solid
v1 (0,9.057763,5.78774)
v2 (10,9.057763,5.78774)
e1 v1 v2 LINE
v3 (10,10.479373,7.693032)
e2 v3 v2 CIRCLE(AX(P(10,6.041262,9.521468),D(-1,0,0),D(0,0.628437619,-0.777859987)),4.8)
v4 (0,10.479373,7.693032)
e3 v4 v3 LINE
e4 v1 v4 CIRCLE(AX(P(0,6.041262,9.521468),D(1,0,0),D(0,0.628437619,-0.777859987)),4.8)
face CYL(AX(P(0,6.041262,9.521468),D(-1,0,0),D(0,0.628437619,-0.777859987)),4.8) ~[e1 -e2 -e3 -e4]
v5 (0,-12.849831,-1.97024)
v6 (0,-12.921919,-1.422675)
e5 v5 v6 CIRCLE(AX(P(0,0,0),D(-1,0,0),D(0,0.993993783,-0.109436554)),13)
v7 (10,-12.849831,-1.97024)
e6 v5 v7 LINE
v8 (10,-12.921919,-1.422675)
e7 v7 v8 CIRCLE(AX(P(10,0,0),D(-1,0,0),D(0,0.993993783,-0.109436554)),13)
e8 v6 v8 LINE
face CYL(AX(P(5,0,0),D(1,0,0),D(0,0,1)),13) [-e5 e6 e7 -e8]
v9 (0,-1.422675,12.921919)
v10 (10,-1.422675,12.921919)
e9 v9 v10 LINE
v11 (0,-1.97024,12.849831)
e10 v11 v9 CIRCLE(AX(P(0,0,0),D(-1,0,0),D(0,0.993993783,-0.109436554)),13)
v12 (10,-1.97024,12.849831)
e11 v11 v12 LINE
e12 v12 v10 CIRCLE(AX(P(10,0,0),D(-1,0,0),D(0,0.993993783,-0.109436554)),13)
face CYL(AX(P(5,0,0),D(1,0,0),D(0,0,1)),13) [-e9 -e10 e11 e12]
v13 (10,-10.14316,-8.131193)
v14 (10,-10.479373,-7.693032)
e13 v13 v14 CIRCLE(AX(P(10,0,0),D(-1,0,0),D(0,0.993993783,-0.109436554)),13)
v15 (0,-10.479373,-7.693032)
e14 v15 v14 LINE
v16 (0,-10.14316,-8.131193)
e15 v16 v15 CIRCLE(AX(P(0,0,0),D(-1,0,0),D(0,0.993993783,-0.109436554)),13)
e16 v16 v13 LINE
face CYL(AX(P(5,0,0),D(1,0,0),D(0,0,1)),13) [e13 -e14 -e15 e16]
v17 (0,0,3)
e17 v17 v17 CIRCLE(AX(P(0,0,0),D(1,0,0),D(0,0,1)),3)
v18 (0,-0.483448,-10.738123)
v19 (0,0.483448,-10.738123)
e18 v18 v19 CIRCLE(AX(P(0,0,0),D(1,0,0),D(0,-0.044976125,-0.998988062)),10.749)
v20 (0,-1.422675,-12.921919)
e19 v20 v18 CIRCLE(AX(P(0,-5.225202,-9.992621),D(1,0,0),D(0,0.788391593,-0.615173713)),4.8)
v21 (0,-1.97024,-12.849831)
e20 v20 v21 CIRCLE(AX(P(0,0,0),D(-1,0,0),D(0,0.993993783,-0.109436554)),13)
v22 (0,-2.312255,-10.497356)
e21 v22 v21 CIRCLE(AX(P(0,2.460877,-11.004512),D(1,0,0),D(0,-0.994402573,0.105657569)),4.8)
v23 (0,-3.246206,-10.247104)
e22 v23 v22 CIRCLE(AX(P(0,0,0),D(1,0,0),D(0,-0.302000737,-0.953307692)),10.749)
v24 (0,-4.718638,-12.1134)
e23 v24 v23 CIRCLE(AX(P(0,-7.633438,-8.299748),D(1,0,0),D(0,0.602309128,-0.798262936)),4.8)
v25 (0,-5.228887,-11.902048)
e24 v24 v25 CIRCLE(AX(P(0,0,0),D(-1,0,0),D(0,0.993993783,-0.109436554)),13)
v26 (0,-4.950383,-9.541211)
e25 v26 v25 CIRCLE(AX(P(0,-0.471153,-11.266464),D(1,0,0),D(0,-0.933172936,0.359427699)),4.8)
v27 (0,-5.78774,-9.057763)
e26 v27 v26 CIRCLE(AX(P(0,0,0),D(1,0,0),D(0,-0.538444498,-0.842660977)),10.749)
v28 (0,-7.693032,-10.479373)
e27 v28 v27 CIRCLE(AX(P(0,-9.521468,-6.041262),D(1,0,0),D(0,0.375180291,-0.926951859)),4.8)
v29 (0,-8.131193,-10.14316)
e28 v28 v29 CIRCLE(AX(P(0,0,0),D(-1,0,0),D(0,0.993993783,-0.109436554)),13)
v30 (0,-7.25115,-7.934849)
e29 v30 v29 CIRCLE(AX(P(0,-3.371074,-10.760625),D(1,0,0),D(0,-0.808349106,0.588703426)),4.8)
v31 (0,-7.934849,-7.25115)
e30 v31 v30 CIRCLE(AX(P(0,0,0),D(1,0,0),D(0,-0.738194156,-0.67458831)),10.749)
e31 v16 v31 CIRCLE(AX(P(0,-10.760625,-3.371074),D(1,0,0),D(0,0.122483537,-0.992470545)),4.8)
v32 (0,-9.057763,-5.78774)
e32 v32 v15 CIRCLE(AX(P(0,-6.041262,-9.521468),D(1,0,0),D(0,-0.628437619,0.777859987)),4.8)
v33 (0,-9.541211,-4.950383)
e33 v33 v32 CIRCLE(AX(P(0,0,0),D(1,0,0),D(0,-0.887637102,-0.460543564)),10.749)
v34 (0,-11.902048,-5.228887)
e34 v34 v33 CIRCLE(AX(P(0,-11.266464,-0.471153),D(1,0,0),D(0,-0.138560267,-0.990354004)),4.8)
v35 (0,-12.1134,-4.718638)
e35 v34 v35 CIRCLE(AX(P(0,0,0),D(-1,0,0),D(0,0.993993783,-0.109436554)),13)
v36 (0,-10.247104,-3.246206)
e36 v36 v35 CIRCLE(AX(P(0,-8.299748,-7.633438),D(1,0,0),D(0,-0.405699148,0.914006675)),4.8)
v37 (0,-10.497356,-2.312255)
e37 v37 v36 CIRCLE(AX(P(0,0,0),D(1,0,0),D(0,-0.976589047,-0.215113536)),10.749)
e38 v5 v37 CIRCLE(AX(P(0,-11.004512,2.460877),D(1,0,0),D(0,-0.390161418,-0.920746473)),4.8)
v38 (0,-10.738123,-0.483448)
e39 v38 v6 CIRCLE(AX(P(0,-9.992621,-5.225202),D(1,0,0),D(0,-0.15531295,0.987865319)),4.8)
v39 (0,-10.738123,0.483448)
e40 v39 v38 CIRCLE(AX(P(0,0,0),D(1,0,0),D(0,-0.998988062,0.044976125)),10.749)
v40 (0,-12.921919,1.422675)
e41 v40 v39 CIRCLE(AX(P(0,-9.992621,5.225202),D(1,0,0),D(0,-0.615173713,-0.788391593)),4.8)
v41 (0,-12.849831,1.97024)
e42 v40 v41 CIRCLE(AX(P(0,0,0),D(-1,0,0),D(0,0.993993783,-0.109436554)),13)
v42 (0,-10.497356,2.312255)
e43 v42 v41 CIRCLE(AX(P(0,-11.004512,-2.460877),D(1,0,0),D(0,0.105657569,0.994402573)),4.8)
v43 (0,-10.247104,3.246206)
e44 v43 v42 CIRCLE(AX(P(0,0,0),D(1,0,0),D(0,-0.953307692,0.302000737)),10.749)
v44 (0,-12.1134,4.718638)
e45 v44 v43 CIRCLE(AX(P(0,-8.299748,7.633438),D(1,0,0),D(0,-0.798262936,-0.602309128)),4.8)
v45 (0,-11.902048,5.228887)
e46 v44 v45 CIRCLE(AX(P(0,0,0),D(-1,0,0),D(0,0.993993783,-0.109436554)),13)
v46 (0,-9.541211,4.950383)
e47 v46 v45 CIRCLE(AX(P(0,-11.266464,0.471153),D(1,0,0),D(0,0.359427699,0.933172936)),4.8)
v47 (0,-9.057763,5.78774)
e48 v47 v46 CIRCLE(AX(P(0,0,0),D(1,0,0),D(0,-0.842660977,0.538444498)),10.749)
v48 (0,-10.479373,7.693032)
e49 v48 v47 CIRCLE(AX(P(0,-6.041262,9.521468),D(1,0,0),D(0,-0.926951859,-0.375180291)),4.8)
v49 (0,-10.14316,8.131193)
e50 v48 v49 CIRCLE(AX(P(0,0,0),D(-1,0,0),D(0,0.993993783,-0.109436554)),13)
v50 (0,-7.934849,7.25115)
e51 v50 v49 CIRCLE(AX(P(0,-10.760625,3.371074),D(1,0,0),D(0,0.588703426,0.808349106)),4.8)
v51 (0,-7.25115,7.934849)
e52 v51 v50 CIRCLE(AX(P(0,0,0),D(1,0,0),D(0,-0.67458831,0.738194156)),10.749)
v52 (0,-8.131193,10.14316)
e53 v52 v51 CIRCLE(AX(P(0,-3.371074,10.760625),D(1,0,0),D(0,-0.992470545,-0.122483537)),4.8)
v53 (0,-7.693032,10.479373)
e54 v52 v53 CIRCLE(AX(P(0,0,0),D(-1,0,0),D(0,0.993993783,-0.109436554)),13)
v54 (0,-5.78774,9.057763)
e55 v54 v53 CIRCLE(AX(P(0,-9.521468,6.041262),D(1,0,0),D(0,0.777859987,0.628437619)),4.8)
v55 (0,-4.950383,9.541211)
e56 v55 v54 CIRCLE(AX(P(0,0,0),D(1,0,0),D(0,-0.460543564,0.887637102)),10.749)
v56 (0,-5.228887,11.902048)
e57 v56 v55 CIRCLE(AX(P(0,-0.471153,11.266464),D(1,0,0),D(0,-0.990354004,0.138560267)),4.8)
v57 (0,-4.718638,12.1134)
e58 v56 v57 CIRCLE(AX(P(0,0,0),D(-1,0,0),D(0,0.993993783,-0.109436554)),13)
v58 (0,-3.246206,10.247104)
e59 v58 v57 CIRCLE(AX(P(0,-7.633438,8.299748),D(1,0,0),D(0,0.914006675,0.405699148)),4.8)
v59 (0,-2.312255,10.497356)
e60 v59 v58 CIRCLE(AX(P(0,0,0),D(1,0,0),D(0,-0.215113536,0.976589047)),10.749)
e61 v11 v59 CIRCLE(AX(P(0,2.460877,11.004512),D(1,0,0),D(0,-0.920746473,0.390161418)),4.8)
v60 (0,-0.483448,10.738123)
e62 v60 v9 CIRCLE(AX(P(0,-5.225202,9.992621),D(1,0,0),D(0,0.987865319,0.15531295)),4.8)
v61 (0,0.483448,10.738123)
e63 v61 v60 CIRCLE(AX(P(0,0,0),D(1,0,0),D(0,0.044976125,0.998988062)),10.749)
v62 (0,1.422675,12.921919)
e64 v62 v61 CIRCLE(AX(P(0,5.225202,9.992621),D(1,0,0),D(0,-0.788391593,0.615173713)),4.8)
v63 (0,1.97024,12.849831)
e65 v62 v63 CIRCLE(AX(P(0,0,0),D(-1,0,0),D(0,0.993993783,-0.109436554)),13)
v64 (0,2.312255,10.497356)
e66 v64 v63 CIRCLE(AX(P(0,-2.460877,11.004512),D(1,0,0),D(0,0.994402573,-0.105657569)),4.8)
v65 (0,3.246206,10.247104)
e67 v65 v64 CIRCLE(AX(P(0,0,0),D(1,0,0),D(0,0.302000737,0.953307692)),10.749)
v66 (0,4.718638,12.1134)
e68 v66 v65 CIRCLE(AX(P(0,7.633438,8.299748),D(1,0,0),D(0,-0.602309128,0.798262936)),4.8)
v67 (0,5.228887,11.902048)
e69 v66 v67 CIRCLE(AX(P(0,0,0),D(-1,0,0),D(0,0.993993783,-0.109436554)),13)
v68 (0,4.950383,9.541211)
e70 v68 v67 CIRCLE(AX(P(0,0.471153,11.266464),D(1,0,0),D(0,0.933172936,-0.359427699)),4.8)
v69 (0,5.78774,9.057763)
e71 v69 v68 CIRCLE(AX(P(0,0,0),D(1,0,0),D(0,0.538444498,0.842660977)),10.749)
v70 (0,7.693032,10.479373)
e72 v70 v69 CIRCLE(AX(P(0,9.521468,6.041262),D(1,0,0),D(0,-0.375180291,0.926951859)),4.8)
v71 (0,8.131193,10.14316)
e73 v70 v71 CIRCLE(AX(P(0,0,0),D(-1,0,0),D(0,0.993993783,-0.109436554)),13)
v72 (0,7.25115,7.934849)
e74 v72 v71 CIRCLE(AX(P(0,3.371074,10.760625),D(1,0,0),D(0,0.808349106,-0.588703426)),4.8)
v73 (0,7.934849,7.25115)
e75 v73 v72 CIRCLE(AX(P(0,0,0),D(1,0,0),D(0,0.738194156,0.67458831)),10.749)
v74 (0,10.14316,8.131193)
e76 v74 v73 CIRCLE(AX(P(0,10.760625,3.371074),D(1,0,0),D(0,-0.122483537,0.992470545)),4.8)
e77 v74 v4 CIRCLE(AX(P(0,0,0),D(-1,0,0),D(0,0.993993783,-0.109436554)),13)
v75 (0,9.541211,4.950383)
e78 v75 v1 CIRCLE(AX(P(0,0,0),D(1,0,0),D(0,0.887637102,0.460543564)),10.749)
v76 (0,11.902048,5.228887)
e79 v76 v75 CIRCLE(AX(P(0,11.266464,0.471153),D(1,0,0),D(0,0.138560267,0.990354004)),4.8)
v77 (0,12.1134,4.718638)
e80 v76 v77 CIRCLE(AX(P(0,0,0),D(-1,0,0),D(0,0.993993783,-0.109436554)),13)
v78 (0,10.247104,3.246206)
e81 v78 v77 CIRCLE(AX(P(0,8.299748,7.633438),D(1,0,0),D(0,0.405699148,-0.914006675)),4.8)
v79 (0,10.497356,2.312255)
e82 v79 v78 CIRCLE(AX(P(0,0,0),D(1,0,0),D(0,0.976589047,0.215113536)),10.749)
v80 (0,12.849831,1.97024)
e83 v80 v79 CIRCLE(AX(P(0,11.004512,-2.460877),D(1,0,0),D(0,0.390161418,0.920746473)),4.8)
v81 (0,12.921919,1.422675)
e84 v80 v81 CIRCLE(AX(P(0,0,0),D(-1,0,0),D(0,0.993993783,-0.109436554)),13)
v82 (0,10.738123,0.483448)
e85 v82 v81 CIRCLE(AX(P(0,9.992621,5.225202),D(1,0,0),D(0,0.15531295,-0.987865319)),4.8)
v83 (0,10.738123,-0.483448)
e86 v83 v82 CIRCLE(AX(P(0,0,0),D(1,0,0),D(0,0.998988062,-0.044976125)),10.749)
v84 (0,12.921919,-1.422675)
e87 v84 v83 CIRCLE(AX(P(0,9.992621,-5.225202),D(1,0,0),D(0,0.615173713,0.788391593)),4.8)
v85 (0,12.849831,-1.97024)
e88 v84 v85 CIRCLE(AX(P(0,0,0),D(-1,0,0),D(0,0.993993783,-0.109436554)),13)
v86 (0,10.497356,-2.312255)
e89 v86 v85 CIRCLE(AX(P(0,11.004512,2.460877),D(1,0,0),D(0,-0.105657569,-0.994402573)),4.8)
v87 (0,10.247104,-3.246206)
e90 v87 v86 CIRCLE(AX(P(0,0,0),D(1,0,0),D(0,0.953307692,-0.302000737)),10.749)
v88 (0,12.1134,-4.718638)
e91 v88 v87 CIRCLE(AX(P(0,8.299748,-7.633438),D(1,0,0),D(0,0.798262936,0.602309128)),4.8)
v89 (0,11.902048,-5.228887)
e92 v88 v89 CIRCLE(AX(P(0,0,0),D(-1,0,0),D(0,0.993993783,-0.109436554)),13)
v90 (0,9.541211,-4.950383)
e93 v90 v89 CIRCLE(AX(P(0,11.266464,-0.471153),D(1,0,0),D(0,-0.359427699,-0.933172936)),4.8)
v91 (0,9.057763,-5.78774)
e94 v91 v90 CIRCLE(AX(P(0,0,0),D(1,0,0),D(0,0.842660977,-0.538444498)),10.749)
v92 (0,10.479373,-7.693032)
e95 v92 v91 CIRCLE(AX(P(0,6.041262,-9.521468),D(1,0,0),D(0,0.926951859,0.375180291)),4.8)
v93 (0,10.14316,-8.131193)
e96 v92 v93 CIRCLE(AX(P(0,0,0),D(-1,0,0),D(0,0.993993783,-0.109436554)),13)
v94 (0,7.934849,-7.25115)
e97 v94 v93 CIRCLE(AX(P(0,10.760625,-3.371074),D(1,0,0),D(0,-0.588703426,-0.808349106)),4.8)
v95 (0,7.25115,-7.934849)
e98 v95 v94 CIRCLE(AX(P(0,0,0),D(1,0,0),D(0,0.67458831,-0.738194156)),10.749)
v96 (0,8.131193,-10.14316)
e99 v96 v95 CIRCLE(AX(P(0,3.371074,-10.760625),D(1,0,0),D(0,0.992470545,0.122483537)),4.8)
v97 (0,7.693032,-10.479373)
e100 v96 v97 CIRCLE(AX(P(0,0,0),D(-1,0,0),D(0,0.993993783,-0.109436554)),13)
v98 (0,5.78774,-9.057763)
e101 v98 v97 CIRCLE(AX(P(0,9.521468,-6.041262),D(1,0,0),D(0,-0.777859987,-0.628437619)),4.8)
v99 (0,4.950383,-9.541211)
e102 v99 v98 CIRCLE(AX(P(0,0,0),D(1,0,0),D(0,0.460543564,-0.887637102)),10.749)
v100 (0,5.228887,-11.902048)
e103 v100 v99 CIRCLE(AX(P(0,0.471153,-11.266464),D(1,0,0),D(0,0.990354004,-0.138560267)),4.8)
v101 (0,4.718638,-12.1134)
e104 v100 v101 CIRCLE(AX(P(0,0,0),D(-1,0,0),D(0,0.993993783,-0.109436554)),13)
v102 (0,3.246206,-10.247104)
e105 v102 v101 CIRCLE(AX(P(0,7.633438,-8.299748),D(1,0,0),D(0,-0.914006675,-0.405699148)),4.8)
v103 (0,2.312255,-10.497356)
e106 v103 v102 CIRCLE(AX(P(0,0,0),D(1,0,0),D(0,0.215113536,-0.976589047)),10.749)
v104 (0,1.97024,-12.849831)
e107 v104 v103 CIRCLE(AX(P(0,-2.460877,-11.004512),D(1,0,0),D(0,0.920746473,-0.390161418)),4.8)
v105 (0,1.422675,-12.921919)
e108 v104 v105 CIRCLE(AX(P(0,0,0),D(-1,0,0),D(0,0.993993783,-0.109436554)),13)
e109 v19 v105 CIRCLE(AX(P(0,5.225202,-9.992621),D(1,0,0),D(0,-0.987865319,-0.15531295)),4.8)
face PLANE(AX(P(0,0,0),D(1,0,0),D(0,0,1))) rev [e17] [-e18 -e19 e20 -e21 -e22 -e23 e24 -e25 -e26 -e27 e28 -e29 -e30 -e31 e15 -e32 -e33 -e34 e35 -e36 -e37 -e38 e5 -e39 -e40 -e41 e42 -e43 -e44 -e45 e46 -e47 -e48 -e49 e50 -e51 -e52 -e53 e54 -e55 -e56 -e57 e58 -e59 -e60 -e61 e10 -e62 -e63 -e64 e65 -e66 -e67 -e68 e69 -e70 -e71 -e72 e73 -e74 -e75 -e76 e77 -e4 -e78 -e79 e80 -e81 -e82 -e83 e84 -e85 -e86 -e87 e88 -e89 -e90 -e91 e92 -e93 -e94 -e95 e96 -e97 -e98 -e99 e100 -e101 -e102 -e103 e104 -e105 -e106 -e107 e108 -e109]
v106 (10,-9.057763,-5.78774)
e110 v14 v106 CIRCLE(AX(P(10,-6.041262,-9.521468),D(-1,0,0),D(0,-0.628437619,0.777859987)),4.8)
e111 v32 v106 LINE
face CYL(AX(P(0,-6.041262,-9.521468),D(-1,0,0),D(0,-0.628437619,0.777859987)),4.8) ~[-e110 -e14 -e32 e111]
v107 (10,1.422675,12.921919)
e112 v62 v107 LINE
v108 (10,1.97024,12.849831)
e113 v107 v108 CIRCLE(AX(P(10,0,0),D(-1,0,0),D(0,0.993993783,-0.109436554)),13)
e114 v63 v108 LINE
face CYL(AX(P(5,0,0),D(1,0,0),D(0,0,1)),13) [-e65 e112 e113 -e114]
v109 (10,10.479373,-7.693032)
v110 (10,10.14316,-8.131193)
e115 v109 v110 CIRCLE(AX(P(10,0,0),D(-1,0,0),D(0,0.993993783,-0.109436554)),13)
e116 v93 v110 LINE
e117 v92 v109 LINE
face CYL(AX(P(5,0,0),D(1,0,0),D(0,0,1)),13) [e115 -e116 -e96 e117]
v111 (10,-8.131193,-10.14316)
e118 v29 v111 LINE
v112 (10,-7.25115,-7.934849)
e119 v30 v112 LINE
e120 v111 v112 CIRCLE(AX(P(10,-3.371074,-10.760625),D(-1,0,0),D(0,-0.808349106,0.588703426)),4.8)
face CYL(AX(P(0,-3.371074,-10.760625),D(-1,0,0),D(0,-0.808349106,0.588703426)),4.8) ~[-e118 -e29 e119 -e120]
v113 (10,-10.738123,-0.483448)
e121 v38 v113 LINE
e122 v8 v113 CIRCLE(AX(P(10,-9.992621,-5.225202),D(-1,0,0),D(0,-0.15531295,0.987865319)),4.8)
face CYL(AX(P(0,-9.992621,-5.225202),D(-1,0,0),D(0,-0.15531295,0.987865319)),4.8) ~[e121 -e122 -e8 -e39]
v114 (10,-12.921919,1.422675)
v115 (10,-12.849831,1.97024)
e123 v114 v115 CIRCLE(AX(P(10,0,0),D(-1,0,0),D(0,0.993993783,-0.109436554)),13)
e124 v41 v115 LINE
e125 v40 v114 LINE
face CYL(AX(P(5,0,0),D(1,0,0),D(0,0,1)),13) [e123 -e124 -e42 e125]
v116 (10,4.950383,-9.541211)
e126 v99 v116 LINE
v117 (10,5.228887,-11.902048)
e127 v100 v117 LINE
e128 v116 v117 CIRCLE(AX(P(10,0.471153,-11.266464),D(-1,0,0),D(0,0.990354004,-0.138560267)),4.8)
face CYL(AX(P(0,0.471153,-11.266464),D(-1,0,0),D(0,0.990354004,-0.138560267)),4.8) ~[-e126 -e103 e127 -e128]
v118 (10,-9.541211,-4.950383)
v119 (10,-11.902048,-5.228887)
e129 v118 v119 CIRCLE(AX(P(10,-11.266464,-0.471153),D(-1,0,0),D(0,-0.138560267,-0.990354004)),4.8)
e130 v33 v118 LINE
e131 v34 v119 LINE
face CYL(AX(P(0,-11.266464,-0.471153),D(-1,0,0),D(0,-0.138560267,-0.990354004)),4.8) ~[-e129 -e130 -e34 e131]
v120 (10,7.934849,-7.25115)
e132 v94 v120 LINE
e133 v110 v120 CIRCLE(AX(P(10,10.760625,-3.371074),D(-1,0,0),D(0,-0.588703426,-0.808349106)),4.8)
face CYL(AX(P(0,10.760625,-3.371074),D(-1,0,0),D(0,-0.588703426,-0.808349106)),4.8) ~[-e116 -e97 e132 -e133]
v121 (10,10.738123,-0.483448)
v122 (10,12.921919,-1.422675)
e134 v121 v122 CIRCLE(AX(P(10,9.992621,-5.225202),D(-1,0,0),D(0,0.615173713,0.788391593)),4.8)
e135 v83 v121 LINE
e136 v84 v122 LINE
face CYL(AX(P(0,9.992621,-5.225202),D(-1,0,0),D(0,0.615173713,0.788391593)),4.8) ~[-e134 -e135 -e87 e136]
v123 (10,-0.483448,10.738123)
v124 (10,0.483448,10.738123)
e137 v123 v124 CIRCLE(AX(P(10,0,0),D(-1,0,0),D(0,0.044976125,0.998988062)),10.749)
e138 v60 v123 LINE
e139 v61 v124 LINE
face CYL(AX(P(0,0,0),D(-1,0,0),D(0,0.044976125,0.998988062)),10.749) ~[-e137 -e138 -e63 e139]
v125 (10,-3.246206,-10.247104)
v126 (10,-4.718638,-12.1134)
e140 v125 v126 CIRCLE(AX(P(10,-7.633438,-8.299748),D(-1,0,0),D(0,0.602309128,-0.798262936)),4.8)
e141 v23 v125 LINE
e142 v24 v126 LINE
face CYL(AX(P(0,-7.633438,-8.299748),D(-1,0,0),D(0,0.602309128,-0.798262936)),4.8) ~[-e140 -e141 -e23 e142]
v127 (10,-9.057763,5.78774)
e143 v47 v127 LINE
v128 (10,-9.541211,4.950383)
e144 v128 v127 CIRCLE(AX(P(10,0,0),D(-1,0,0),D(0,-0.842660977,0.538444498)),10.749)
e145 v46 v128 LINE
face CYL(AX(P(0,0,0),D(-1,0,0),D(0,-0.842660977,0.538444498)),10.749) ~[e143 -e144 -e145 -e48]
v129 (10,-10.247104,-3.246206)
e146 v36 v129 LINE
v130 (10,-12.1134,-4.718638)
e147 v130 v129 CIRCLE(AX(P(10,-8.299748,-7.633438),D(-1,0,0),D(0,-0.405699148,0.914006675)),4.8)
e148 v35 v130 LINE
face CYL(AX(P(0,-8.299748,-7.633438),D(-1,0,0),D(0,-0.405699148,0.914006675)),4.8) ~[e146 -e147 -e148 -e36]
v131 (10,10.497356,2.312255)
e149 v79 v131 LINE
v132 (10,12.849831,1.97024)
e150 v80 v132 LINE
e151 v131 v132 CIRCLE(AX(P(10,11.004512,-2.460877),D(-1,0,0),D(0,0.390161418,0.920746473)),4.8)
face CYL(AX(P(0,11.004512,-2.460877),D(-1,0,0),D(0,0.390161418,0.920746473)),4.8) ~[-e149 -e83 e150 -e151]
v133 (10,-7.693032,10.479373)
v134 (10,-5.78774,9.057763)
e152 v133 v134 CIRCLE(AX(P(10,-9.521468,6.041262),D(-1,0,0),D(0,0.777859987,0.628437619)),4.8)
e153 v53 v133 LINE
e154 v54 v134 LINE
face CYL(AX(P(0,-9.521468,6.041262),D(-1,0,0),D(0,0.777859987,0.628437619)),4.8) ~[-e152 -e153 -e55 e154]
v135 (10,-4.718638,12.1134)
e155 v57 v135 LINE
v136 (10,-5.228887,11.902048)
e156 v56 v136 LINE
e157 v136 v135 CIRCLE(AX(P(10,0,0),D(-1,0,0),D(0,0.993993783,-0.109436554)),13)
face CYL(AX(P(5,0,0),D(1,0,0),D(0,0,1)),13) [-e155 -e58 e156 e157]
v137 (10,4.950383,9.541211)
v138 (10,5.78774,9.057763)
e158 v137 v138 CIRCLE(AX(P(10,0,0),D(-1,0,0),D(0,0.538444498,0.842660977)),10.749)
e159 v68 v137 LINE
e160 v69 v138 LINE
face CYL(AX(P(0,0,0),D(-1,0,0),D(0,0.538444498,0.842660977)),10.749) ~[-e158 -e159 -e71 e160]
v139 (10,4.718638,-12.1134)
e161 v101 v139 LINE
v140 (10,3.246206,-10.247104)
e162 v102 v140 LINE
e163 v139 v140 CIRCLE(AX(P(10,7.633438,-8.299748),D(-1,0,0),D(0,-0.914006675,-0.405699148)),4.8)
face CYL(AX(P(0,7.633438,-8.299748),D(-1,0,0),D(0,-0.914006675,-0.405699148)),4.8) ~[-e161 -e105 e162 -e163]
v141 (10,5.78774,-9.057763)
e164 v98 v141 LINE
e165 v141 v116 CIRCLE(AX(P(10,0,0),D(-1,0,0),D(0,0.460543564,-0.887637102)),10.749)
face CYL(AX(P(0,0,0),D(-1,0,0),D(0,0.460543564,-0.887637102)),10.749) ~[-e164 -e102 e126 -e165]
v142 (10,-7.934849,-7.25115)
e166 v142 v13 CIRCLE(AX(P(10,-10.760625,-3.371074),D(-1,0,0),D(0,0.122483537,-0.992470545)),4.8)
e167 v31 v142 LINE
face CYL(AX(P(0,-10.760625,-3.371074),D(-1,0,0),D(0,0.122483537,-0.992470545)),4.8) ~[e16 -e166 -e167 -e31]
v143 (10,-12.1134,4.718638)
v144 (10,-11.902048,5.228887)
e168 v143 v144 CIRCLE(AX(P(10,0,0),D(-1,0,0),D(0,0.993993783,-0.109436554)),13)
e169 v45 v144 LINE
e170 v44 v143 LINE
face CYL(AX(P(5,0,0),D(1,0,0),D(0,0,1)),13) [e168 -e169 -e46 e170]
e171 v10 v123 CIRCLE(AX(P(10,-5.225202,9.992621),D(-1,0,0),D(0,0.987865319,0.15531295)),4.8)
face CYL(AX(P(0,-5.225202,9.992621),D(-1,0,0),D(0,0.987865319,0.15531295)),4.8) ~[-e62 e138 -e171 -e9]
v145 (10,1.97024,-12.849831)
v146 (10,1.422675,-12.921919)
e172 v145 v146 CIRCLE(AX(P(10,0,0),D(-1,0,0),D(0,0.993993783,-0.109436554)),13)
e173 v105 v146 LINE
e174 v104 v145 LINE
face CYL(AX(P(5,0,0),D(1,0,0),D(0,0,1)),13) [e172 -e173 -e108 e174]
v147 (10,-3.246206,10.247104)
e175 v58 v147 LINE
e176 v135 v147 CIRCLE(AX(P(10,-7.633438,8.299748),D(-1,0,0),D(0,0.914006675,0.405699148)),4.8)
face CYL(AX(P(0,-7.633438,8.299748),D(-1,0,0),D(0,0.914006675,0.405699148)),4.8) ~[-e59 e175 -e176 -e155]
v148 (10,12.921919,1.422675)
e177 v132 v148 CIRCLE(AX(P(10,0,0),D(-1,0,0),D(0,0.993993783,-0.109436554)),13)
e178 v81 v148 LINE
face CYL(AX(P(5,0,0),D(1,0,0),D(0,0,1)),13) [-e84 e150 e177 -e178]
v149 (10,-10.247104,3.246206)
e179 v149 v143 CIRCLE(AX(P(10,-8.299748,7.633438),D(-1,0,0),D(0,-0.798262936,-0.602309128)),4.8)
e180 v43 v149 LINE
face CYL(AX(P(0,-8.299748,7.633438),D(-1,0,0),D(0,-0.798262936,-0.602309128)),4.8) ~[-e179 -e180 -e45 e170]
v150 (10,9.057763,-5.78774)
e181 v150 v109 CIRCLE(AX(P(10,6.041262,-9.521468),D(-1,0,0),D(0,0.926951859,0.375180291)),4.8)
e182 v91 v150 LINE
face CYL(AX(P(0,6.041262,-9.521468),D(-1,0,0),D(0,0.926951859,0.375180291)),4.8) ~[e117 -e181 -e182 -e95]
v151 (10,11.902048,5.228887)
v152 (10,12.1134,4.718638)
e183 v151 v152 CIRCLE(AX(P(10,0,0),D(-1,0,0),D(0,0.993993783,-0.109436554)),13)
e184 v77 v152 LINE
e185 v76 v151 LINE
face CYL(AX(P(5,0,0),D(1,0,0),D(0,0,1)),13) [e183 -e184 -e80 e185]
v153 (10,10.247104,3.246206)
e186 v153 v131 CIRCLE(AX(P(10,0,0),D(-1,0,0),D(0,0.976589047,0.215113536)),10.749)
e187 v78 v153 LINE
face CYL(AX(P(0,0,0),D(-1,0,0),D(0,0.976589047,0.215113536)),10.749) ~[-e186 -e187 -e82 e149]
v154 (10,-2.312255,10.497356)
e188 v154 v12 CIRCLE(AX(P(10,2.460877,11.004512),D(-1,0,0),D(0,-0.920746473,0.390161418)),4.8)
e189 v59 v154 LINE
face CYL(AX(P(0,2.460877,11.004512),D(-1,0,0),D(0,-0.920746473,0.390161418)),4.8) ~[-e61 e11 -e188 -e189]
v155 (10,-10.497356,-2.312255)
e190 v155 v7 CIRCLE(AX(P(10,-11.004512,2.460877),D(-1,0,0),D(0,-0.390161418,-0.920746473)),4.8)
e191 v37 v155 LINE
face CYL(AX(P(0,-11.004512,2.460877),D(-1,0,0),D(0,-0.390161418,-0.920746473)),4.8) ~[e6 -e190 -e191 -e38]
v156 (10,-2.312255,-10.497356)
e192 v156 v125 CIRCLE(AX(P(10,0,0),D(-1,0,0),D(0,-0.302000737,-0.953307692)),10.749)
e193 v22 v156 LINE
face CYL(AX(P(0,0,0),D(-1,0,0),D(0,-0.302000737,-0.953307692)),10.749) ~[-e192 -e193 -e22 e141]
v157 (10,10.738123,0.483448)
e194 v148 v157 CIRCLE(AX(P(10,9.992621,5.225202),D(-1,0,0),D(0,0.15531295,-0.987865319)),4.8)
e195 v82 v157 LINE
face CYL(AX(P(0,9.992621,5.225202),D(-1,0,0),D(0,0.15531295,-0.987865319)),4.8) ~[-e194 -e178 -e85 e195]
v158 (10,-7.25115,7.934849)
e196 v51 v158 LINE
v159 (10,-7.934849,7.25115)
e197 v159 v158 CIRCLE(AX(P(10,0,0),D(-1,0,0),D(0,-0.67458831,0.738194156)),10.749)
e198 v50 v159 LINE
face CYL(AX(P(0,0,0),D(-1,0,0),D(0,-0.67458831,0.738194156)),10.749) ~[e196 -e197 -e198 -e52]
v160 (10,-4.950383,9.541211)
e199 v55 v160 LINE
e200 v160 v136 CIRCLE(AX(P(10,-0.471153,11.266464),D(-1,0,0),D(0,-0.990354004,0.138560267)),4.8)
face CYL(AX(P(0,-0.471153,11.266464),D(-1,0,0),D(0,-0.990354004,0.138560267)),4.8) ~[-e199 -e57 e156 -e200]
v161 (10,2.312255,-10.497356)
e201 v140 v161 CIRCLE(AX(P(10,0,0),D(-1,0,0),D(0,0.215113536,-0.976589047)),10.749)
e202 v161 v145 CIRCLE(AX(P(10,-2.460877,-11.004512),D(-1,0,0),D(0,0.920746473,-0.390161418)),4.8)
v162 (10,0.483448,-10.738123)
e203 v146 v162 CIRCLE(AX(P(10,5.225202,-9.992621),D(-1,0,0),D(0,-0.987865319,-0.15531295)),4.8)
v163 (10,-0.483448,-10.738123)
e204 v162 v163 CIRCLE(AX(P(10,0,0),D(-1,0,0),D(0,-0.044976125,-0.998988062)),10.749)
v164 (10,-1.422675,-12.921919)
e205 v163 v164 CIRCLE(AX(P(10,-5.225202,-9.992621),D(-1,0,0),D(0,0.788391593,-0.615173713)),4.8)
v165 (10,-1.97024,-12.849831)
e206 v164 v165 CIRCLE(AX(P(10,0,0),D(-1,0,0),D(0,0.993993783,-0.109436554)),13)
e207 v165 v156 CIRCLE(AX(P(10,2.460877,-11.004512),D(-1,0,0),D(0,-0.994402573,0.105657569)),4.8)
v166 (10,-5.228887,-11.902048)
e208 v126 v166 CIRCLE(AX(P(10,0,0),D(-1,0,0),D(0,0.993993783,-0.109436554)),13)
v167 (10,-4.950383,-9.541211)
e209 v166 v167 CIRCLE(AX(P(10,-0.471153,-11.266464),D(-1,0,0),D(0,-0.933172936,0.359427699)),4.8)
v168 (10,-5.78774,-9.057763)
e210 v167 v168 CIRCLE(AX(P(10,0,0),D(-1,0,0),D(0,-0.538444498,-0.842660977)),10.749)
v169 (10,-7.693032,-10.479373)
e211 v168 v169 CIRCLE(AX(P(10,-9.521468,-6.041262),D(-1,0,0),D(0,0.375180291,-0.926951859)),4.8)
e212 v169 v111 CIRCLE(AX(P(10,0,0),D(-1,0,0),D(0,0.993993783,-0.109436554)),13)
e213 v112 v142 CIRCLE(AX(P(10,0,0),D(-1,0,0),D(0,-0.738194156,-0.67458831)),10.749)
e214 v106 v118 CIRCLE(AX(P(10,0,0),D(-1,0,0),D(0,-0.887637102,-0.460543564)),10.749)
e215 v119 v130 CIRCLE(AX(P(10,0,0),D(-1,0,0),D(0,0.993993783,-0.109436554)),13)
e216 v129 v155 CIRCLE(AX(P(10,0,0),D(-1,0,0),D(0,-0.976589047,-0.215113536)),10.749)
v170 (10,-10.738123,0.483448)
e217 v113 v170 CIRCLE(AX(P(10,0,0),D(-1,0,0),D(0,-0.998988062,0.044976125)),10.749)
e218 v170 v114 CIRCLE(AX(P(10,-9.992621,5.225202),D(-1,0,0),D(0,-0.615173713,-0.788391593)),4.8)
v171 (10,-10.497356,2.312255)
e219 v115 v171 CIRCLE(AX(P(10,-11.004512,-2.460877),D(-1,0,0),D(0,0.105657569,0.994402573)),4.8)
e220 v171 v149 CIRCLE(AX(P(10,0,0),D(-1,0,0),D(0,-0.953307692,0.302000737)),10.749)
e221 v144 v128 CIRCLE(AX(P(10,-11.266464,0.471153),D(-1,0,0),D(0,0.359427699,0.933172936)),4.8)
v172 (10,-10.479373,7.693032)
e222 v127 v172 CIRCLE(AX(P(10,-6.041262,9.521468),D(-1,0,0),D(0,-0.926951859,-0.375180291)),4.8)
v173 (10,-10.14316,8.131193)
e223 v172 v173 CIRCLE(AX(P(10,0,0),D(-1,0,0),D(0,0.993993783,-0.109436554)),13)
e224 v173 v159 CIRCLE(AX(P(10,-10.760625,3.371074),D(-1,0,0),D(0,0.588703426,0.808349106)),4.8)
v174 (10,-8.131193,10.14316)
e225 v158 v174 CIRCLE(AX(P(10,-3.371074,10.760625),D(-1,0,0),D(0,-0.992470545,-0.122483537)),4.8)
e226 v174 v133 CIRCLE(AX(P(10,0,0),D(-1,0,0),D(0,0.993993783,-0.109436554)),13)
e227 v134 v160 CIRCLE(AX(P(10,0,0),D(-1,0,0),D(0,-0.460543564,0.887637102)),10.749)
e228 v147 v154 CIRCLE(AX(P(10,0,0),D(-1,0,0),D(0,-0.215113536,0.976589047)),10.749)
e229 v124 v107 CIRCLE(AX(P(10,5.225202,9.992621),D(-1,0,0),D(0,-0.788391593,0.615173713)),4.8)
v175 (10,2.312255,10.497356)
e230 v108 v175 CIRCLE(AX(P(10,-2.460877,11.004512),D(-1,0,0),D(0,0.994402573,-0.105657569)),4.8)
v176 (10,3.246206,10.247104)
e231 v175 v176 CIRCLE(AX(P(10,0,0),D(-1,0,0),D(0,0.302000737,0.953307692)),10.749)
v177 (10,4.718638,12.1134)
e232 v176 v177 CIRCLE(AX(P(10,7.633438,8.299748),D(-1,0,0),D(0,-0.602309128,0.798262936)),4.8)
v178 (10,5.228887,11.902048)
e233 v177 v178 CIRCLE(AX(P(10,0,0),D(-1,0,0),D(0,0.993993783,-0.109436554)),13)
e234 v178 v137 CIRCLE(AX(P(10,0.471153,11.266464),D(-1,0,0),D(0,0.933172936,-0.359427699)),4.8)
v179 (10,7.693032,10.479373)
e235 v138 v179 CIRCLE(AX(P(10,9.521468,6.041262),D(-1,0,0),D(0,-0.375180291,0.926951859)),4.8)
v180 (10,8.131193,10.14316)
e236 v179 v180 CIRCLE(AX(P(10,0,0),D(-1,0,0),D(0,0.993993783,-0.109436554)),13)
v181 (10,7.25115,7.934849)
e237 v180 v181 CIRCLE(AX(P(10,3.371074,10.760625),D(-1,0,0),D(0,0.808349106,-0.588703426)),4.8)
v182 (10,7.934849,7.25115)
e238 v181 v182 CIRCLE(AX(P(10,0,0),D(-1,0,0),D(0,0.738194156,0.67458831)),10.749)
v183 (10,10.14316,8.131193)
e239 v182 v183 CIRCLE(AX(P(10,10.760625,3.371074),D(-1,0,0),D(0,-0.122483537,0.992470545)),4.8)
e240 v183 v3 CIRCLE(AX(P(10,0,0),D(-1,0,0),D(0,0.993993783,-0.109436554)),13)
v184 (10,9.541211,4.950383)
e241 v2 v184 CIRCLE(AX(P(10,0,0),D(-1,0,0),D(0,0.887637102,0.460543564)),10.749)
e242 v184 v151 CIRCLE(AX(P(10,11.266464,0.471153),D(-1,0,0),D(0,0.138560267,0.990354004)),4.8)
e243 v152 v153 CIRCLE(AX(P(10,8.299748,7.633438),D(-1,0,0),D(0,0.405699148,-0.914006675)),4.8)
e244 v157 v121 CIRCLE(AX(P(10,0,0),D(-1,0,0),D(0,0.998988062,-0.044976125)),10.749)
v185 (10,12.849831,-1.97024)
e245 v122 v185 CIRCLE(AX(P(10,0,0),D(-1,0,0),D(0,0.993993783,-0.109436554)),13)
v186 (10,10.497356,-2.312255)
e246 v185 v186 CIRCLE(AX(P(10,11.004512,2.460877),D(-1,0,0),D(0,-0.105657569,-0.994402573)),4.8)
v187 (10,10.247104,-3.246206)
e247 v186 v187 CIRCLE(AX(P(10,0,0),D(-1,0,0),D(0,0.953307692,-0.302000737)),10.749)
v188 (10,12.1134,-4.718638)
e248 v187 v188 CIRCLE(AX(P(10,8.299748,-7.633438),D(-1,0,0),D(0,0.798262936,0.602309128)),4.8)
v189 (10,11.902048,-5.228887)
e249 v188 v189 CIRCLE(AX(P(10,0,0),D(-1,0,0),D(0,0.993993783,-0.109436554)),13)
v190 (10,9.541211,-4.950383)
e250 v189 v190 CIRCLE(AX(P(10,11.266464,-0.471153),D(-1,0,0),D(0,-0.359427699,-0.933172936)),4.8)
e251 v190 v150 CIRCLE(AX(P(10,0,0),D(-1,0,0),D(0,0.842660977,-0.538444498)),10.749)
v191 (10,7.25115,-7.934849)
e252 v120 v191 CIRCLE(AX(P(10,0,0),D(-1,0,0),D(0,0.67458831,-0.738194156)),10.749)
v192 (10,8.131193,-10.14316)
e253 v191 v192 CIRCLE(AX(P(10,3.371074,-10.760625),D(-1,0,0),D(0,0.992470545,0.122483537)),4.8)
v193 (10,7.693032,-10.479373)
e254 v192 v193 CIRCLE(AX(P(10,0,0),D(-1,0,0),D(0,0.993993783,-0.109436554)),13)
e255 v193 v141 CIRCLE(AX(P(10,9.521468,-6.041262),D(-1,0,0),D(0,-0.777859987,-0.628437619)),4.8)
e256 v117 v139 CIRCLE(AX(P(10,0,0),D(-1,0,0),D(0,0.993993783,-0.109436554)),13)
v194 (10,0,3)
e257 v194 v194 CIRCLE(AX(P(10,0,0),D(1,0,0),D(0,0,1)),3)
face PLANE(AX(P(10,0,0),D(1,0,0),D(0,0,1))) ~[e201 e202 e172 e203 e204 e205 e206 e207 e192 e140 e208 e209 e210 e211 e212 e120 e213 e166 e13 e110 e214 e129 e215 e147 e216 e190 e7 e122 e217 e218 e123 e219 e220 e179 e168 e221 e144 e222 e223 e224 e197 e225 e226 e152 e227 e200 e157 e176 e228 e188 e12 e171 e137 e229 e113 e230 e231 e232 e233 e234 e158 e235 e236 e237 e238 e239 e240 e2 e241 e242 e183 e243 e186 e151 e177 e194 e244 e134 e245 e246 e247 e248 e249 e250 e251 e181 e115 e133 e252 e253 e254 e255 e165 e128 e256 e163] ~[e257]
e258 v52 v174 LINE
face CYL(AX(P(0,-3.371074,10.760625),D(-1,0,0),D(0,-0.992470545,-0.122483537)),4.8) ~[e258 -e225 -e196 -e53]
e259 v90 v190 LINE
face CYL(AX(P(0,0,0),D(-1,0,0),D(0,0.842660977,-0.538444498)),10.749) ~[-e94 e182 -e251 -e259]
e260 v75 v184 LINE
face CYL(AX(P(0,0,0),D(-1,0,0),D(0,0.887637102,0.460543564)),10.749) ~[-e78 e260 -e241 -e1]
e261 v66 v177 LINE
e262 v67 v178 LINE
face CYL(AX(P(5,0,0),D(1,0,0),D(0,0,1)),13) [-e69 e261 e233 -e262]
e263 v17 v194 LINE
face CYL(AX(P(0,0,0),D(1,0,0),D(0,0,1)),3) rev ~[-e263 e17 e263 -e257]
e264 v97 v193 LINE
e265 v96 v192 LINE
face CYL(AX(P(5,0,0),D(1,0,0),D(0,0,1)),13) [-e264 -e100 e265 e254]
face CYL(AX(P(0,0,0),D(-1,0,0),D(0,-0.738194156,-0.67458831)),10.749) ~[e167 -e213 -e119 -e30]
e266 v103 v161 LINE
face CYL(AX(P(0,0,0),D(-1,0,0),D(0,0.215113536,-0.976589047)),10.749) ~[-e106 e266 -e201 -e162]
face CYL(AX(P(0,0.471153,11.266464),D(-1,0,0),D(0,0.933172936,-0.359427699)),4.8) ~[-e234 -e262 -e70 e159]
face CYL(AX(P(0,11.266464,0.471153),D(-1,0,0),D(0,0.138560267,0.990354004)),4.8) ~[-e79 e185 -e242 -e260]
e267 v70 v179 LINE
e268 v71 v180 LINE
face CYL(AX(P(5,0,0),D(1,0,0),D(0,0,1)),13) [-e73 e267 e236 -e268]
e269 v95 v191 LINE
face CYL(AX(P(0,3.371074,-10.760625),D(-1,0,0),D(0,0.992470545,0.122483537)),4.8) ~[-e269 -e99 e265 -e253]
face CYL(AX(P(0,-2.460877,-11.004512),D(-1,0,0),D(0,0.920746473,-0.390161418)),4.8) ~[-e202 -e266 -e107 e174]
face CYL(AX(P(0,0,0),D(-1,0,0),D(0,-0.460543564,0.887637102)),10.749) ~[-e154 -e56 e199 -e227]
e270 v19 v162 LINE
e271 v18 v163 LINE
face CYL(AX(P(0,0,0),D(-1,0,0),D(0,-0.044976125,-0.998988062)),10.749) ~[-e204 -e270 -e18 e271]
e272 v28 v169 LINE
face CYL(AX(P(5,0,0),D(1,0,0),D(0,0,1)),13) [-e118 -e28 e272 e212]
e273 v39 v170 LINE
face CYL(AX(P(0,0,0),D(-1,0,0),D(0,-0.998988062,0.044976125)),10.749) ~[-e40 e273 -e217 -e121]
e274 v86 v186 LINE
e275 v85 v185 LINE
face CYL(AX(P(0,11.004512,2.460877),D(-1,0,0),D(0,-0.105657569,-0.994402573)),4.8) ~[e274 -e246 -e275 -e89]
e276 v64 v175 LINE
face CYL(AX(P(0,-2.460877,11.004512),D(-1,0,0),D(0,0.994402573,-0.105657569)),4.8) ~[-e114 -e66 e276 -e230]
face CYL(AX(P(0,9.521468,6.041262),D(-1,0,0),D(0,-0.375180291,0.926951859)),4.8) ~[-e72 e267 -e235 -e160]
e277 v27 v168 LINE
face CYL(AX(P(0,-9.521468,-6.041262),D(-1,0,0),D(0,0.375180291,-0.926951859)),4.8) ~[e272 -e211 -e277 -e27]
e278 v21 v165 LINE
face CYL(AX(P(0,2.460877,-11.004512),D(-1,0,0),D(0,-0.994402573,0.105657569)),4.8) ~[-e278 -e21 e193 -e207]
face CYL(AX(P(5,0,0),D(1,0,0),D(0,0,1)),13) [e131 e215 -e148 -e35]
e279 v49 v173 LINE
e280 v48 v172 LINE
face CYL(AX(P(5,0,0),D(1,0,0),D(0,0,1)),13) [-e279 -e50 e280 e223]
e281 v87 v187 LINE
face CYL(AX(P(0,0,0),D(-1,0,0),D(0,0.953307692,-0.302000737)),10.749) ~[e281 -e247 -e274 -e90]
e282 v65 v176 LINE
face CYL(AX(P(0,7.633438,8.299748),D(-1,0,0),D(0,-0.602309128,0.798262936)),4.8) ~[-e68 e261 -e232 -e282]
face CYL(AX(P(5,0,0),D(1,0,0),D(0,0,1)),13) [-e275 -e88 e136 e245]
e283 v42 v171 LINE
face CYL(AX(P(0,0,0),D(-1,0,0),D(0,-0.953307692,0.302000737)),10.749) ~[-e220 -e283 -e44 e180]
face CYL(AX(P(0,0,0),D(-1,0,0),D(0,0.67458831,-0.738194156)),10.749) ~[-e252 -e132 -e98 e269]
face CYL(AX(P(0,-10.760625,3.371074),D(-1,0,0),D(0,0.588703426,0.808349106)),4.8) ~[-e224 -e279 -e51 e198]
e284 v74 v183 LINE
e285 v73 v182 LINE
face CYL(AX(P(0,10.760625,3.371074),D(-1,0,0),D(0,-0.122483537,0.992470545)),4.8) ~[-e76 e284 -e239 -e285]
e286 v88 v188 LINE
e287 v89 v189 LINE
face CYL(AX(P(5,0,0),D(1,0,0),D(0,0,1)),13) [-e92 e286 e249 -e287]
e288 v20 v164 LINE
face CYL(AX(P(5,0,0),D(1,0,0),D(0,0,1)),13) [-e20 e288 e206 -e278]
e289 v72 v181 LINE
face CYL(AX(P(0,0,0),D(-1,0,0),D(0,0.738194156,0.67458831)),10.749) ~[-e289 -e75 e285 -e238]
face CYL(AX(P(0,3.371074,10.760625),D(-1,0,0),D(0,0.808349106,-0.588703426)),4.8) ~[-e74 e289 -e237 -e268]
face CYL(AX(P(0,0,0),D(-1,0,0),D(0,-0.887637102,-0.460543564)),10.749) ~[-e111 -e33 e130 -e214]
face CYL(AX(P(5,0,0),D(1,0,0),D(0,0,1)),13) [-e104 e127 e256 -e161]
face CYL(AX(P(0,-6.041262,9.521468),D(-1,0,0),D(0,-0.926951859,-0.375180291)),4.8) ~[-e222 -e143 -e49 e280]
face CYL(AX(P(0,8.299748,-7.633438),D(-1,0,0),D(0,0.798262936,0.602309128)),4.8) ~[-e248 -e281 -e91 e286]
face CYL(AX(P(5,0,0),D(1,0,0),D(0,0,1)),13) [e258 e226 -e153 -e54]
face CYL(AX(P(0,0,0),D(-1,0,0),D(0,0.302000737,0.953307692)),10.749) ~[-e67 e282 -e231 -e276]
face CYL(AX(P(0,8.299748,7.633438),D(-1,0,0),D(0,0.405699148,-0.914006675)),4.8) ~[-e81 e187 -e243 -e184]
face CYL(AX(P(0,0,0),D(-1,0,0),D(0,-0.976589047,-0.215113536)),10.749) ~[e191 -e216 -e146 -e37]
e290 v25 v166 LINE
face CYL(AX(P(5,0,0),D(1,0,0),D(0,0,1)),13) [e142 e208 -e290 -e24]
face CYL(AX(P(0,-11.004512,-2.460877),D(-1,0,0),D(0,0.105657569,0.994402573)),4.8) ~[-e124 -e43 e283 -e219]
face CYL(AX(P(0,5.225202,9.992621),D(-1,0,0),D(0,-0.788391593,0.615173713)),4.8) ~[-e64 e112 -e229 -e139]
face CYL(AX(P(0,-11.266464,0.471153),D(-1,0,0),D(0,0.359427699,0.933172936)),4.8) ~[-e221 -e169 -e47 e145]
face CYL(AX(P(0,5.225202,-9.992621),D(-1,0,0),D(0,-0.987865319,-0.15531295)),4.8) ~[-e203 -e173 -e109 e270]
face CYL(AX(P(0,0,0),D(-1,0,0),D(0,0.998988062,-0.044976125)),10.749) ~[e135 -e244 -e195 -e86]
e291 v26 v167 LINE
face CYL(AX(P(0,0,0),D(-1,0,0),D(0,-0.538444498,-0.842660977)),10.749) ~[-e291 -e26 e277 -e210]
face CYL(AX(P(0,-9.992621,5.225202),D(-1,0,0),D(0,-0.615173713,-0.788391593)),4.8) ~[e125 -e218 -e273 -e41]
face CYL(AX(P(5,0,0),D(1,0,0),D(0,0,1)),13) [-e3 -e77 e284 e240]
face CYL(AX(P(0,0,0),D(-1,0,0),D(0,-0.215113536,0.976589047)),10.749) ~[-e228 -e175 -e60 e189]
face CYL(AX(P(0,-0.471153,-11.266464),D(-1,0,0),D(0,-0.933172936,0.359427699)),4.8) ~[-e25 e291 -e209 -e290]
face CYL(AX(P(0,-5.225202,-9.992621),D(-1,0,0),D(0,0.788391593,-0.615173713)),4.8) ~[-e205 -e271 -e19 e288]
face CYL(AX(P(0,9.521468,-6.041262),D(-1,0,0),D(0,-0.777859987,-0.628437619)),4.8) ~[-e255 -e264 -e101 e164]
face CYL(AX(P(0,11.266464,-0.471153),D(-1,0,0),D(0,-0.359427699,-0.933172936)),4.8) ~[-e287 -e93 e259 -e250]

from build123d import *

# Parameters (mm, degrees)
BASPROSKE_W     = 10
BASPROSKE_H     = 13
TOOTHCUT_DEPTH  = 21.928449536
TEETHCUTS_COUNT = 24
TEETHCUTS_ANGLE = 345
BORSKE_R        = 3
BORE_DEPTH      = 50.0000508


with BuildPart() as part:
    # BasProSke → Base-Revolve (revolve)
    with BuildSketch(Plane(origin=(0, 0, 0), x_dir=(1, 0, 0), z_dir=(0, 1, 0)), mode=Mode.PRIVATE) as base_revolve_sk:
        with Locations((5, 6.5)):
            Rectangle(BASPROSKE_W, BASPROSKE_H)
    revolve(base_revolve_sk.sketch.rotate(Axis((-10, 0, 0), (1, 0, 0)), 180), axis=Axis((-10, 0, 0), (1, 0, 0)))

    # TooCutSke → ToothCut (cut, through all)
    with BuildSketch(Plane(origin=(0, 0, 0), x_dir=(0, 0, -1), z_dir=(1, 0, 0))):
        with BuildLine():
            ThreePointArc((0.483448384, 10.738122679), (0, 10.749), (-0.483448384, 10.738122679))
            ThreePointArc((-0.483448384, 10.738122679), (-0.821636462, 11.902754369), (-1.44092227, 12.945454344))
            ThreePointArc((-1.44092227, 12.945454344), (0, 13.0254), (1.44092227, 12.945454344))
            ThreePointArc((1.44092227, 12.945454344), (0.821636462, 11.902754369), (0.483448384, 10.738122679))
        make_face()
    toothcut = extrude(amount=TOOTHCUT_DEPTH, mode=Mode.SUBTRACT)

    # TeethCuts: ToothCut ×24 about axis
    teethcuts_axis = Axis((-10, 0, 0), (1, 0, 0))
    for i in range(1, TEETHCUTS_COUNT):
        add(toothcut.rotate(teethcuts_axis, i * TEETHCUTS_ANGLE / (TEETHCUTS_COUNT - 1)), mode=Mode.SUBTRACT)

    # BorSke → Bore (cut, symmetric)
    with BuildSketch(Plane(origin=(0, 0, 0), x_dir=(0, 0, -1), z_dir=(1, 0, 0))):
        with Locations(Location((0, 0, 0), (0, 0, 180))):
            Circle(BORSKE_R)
    extrude(amount=BORE_DEPTH, both=True, mode=Mode.SUBTRACT)


solid = part.part
